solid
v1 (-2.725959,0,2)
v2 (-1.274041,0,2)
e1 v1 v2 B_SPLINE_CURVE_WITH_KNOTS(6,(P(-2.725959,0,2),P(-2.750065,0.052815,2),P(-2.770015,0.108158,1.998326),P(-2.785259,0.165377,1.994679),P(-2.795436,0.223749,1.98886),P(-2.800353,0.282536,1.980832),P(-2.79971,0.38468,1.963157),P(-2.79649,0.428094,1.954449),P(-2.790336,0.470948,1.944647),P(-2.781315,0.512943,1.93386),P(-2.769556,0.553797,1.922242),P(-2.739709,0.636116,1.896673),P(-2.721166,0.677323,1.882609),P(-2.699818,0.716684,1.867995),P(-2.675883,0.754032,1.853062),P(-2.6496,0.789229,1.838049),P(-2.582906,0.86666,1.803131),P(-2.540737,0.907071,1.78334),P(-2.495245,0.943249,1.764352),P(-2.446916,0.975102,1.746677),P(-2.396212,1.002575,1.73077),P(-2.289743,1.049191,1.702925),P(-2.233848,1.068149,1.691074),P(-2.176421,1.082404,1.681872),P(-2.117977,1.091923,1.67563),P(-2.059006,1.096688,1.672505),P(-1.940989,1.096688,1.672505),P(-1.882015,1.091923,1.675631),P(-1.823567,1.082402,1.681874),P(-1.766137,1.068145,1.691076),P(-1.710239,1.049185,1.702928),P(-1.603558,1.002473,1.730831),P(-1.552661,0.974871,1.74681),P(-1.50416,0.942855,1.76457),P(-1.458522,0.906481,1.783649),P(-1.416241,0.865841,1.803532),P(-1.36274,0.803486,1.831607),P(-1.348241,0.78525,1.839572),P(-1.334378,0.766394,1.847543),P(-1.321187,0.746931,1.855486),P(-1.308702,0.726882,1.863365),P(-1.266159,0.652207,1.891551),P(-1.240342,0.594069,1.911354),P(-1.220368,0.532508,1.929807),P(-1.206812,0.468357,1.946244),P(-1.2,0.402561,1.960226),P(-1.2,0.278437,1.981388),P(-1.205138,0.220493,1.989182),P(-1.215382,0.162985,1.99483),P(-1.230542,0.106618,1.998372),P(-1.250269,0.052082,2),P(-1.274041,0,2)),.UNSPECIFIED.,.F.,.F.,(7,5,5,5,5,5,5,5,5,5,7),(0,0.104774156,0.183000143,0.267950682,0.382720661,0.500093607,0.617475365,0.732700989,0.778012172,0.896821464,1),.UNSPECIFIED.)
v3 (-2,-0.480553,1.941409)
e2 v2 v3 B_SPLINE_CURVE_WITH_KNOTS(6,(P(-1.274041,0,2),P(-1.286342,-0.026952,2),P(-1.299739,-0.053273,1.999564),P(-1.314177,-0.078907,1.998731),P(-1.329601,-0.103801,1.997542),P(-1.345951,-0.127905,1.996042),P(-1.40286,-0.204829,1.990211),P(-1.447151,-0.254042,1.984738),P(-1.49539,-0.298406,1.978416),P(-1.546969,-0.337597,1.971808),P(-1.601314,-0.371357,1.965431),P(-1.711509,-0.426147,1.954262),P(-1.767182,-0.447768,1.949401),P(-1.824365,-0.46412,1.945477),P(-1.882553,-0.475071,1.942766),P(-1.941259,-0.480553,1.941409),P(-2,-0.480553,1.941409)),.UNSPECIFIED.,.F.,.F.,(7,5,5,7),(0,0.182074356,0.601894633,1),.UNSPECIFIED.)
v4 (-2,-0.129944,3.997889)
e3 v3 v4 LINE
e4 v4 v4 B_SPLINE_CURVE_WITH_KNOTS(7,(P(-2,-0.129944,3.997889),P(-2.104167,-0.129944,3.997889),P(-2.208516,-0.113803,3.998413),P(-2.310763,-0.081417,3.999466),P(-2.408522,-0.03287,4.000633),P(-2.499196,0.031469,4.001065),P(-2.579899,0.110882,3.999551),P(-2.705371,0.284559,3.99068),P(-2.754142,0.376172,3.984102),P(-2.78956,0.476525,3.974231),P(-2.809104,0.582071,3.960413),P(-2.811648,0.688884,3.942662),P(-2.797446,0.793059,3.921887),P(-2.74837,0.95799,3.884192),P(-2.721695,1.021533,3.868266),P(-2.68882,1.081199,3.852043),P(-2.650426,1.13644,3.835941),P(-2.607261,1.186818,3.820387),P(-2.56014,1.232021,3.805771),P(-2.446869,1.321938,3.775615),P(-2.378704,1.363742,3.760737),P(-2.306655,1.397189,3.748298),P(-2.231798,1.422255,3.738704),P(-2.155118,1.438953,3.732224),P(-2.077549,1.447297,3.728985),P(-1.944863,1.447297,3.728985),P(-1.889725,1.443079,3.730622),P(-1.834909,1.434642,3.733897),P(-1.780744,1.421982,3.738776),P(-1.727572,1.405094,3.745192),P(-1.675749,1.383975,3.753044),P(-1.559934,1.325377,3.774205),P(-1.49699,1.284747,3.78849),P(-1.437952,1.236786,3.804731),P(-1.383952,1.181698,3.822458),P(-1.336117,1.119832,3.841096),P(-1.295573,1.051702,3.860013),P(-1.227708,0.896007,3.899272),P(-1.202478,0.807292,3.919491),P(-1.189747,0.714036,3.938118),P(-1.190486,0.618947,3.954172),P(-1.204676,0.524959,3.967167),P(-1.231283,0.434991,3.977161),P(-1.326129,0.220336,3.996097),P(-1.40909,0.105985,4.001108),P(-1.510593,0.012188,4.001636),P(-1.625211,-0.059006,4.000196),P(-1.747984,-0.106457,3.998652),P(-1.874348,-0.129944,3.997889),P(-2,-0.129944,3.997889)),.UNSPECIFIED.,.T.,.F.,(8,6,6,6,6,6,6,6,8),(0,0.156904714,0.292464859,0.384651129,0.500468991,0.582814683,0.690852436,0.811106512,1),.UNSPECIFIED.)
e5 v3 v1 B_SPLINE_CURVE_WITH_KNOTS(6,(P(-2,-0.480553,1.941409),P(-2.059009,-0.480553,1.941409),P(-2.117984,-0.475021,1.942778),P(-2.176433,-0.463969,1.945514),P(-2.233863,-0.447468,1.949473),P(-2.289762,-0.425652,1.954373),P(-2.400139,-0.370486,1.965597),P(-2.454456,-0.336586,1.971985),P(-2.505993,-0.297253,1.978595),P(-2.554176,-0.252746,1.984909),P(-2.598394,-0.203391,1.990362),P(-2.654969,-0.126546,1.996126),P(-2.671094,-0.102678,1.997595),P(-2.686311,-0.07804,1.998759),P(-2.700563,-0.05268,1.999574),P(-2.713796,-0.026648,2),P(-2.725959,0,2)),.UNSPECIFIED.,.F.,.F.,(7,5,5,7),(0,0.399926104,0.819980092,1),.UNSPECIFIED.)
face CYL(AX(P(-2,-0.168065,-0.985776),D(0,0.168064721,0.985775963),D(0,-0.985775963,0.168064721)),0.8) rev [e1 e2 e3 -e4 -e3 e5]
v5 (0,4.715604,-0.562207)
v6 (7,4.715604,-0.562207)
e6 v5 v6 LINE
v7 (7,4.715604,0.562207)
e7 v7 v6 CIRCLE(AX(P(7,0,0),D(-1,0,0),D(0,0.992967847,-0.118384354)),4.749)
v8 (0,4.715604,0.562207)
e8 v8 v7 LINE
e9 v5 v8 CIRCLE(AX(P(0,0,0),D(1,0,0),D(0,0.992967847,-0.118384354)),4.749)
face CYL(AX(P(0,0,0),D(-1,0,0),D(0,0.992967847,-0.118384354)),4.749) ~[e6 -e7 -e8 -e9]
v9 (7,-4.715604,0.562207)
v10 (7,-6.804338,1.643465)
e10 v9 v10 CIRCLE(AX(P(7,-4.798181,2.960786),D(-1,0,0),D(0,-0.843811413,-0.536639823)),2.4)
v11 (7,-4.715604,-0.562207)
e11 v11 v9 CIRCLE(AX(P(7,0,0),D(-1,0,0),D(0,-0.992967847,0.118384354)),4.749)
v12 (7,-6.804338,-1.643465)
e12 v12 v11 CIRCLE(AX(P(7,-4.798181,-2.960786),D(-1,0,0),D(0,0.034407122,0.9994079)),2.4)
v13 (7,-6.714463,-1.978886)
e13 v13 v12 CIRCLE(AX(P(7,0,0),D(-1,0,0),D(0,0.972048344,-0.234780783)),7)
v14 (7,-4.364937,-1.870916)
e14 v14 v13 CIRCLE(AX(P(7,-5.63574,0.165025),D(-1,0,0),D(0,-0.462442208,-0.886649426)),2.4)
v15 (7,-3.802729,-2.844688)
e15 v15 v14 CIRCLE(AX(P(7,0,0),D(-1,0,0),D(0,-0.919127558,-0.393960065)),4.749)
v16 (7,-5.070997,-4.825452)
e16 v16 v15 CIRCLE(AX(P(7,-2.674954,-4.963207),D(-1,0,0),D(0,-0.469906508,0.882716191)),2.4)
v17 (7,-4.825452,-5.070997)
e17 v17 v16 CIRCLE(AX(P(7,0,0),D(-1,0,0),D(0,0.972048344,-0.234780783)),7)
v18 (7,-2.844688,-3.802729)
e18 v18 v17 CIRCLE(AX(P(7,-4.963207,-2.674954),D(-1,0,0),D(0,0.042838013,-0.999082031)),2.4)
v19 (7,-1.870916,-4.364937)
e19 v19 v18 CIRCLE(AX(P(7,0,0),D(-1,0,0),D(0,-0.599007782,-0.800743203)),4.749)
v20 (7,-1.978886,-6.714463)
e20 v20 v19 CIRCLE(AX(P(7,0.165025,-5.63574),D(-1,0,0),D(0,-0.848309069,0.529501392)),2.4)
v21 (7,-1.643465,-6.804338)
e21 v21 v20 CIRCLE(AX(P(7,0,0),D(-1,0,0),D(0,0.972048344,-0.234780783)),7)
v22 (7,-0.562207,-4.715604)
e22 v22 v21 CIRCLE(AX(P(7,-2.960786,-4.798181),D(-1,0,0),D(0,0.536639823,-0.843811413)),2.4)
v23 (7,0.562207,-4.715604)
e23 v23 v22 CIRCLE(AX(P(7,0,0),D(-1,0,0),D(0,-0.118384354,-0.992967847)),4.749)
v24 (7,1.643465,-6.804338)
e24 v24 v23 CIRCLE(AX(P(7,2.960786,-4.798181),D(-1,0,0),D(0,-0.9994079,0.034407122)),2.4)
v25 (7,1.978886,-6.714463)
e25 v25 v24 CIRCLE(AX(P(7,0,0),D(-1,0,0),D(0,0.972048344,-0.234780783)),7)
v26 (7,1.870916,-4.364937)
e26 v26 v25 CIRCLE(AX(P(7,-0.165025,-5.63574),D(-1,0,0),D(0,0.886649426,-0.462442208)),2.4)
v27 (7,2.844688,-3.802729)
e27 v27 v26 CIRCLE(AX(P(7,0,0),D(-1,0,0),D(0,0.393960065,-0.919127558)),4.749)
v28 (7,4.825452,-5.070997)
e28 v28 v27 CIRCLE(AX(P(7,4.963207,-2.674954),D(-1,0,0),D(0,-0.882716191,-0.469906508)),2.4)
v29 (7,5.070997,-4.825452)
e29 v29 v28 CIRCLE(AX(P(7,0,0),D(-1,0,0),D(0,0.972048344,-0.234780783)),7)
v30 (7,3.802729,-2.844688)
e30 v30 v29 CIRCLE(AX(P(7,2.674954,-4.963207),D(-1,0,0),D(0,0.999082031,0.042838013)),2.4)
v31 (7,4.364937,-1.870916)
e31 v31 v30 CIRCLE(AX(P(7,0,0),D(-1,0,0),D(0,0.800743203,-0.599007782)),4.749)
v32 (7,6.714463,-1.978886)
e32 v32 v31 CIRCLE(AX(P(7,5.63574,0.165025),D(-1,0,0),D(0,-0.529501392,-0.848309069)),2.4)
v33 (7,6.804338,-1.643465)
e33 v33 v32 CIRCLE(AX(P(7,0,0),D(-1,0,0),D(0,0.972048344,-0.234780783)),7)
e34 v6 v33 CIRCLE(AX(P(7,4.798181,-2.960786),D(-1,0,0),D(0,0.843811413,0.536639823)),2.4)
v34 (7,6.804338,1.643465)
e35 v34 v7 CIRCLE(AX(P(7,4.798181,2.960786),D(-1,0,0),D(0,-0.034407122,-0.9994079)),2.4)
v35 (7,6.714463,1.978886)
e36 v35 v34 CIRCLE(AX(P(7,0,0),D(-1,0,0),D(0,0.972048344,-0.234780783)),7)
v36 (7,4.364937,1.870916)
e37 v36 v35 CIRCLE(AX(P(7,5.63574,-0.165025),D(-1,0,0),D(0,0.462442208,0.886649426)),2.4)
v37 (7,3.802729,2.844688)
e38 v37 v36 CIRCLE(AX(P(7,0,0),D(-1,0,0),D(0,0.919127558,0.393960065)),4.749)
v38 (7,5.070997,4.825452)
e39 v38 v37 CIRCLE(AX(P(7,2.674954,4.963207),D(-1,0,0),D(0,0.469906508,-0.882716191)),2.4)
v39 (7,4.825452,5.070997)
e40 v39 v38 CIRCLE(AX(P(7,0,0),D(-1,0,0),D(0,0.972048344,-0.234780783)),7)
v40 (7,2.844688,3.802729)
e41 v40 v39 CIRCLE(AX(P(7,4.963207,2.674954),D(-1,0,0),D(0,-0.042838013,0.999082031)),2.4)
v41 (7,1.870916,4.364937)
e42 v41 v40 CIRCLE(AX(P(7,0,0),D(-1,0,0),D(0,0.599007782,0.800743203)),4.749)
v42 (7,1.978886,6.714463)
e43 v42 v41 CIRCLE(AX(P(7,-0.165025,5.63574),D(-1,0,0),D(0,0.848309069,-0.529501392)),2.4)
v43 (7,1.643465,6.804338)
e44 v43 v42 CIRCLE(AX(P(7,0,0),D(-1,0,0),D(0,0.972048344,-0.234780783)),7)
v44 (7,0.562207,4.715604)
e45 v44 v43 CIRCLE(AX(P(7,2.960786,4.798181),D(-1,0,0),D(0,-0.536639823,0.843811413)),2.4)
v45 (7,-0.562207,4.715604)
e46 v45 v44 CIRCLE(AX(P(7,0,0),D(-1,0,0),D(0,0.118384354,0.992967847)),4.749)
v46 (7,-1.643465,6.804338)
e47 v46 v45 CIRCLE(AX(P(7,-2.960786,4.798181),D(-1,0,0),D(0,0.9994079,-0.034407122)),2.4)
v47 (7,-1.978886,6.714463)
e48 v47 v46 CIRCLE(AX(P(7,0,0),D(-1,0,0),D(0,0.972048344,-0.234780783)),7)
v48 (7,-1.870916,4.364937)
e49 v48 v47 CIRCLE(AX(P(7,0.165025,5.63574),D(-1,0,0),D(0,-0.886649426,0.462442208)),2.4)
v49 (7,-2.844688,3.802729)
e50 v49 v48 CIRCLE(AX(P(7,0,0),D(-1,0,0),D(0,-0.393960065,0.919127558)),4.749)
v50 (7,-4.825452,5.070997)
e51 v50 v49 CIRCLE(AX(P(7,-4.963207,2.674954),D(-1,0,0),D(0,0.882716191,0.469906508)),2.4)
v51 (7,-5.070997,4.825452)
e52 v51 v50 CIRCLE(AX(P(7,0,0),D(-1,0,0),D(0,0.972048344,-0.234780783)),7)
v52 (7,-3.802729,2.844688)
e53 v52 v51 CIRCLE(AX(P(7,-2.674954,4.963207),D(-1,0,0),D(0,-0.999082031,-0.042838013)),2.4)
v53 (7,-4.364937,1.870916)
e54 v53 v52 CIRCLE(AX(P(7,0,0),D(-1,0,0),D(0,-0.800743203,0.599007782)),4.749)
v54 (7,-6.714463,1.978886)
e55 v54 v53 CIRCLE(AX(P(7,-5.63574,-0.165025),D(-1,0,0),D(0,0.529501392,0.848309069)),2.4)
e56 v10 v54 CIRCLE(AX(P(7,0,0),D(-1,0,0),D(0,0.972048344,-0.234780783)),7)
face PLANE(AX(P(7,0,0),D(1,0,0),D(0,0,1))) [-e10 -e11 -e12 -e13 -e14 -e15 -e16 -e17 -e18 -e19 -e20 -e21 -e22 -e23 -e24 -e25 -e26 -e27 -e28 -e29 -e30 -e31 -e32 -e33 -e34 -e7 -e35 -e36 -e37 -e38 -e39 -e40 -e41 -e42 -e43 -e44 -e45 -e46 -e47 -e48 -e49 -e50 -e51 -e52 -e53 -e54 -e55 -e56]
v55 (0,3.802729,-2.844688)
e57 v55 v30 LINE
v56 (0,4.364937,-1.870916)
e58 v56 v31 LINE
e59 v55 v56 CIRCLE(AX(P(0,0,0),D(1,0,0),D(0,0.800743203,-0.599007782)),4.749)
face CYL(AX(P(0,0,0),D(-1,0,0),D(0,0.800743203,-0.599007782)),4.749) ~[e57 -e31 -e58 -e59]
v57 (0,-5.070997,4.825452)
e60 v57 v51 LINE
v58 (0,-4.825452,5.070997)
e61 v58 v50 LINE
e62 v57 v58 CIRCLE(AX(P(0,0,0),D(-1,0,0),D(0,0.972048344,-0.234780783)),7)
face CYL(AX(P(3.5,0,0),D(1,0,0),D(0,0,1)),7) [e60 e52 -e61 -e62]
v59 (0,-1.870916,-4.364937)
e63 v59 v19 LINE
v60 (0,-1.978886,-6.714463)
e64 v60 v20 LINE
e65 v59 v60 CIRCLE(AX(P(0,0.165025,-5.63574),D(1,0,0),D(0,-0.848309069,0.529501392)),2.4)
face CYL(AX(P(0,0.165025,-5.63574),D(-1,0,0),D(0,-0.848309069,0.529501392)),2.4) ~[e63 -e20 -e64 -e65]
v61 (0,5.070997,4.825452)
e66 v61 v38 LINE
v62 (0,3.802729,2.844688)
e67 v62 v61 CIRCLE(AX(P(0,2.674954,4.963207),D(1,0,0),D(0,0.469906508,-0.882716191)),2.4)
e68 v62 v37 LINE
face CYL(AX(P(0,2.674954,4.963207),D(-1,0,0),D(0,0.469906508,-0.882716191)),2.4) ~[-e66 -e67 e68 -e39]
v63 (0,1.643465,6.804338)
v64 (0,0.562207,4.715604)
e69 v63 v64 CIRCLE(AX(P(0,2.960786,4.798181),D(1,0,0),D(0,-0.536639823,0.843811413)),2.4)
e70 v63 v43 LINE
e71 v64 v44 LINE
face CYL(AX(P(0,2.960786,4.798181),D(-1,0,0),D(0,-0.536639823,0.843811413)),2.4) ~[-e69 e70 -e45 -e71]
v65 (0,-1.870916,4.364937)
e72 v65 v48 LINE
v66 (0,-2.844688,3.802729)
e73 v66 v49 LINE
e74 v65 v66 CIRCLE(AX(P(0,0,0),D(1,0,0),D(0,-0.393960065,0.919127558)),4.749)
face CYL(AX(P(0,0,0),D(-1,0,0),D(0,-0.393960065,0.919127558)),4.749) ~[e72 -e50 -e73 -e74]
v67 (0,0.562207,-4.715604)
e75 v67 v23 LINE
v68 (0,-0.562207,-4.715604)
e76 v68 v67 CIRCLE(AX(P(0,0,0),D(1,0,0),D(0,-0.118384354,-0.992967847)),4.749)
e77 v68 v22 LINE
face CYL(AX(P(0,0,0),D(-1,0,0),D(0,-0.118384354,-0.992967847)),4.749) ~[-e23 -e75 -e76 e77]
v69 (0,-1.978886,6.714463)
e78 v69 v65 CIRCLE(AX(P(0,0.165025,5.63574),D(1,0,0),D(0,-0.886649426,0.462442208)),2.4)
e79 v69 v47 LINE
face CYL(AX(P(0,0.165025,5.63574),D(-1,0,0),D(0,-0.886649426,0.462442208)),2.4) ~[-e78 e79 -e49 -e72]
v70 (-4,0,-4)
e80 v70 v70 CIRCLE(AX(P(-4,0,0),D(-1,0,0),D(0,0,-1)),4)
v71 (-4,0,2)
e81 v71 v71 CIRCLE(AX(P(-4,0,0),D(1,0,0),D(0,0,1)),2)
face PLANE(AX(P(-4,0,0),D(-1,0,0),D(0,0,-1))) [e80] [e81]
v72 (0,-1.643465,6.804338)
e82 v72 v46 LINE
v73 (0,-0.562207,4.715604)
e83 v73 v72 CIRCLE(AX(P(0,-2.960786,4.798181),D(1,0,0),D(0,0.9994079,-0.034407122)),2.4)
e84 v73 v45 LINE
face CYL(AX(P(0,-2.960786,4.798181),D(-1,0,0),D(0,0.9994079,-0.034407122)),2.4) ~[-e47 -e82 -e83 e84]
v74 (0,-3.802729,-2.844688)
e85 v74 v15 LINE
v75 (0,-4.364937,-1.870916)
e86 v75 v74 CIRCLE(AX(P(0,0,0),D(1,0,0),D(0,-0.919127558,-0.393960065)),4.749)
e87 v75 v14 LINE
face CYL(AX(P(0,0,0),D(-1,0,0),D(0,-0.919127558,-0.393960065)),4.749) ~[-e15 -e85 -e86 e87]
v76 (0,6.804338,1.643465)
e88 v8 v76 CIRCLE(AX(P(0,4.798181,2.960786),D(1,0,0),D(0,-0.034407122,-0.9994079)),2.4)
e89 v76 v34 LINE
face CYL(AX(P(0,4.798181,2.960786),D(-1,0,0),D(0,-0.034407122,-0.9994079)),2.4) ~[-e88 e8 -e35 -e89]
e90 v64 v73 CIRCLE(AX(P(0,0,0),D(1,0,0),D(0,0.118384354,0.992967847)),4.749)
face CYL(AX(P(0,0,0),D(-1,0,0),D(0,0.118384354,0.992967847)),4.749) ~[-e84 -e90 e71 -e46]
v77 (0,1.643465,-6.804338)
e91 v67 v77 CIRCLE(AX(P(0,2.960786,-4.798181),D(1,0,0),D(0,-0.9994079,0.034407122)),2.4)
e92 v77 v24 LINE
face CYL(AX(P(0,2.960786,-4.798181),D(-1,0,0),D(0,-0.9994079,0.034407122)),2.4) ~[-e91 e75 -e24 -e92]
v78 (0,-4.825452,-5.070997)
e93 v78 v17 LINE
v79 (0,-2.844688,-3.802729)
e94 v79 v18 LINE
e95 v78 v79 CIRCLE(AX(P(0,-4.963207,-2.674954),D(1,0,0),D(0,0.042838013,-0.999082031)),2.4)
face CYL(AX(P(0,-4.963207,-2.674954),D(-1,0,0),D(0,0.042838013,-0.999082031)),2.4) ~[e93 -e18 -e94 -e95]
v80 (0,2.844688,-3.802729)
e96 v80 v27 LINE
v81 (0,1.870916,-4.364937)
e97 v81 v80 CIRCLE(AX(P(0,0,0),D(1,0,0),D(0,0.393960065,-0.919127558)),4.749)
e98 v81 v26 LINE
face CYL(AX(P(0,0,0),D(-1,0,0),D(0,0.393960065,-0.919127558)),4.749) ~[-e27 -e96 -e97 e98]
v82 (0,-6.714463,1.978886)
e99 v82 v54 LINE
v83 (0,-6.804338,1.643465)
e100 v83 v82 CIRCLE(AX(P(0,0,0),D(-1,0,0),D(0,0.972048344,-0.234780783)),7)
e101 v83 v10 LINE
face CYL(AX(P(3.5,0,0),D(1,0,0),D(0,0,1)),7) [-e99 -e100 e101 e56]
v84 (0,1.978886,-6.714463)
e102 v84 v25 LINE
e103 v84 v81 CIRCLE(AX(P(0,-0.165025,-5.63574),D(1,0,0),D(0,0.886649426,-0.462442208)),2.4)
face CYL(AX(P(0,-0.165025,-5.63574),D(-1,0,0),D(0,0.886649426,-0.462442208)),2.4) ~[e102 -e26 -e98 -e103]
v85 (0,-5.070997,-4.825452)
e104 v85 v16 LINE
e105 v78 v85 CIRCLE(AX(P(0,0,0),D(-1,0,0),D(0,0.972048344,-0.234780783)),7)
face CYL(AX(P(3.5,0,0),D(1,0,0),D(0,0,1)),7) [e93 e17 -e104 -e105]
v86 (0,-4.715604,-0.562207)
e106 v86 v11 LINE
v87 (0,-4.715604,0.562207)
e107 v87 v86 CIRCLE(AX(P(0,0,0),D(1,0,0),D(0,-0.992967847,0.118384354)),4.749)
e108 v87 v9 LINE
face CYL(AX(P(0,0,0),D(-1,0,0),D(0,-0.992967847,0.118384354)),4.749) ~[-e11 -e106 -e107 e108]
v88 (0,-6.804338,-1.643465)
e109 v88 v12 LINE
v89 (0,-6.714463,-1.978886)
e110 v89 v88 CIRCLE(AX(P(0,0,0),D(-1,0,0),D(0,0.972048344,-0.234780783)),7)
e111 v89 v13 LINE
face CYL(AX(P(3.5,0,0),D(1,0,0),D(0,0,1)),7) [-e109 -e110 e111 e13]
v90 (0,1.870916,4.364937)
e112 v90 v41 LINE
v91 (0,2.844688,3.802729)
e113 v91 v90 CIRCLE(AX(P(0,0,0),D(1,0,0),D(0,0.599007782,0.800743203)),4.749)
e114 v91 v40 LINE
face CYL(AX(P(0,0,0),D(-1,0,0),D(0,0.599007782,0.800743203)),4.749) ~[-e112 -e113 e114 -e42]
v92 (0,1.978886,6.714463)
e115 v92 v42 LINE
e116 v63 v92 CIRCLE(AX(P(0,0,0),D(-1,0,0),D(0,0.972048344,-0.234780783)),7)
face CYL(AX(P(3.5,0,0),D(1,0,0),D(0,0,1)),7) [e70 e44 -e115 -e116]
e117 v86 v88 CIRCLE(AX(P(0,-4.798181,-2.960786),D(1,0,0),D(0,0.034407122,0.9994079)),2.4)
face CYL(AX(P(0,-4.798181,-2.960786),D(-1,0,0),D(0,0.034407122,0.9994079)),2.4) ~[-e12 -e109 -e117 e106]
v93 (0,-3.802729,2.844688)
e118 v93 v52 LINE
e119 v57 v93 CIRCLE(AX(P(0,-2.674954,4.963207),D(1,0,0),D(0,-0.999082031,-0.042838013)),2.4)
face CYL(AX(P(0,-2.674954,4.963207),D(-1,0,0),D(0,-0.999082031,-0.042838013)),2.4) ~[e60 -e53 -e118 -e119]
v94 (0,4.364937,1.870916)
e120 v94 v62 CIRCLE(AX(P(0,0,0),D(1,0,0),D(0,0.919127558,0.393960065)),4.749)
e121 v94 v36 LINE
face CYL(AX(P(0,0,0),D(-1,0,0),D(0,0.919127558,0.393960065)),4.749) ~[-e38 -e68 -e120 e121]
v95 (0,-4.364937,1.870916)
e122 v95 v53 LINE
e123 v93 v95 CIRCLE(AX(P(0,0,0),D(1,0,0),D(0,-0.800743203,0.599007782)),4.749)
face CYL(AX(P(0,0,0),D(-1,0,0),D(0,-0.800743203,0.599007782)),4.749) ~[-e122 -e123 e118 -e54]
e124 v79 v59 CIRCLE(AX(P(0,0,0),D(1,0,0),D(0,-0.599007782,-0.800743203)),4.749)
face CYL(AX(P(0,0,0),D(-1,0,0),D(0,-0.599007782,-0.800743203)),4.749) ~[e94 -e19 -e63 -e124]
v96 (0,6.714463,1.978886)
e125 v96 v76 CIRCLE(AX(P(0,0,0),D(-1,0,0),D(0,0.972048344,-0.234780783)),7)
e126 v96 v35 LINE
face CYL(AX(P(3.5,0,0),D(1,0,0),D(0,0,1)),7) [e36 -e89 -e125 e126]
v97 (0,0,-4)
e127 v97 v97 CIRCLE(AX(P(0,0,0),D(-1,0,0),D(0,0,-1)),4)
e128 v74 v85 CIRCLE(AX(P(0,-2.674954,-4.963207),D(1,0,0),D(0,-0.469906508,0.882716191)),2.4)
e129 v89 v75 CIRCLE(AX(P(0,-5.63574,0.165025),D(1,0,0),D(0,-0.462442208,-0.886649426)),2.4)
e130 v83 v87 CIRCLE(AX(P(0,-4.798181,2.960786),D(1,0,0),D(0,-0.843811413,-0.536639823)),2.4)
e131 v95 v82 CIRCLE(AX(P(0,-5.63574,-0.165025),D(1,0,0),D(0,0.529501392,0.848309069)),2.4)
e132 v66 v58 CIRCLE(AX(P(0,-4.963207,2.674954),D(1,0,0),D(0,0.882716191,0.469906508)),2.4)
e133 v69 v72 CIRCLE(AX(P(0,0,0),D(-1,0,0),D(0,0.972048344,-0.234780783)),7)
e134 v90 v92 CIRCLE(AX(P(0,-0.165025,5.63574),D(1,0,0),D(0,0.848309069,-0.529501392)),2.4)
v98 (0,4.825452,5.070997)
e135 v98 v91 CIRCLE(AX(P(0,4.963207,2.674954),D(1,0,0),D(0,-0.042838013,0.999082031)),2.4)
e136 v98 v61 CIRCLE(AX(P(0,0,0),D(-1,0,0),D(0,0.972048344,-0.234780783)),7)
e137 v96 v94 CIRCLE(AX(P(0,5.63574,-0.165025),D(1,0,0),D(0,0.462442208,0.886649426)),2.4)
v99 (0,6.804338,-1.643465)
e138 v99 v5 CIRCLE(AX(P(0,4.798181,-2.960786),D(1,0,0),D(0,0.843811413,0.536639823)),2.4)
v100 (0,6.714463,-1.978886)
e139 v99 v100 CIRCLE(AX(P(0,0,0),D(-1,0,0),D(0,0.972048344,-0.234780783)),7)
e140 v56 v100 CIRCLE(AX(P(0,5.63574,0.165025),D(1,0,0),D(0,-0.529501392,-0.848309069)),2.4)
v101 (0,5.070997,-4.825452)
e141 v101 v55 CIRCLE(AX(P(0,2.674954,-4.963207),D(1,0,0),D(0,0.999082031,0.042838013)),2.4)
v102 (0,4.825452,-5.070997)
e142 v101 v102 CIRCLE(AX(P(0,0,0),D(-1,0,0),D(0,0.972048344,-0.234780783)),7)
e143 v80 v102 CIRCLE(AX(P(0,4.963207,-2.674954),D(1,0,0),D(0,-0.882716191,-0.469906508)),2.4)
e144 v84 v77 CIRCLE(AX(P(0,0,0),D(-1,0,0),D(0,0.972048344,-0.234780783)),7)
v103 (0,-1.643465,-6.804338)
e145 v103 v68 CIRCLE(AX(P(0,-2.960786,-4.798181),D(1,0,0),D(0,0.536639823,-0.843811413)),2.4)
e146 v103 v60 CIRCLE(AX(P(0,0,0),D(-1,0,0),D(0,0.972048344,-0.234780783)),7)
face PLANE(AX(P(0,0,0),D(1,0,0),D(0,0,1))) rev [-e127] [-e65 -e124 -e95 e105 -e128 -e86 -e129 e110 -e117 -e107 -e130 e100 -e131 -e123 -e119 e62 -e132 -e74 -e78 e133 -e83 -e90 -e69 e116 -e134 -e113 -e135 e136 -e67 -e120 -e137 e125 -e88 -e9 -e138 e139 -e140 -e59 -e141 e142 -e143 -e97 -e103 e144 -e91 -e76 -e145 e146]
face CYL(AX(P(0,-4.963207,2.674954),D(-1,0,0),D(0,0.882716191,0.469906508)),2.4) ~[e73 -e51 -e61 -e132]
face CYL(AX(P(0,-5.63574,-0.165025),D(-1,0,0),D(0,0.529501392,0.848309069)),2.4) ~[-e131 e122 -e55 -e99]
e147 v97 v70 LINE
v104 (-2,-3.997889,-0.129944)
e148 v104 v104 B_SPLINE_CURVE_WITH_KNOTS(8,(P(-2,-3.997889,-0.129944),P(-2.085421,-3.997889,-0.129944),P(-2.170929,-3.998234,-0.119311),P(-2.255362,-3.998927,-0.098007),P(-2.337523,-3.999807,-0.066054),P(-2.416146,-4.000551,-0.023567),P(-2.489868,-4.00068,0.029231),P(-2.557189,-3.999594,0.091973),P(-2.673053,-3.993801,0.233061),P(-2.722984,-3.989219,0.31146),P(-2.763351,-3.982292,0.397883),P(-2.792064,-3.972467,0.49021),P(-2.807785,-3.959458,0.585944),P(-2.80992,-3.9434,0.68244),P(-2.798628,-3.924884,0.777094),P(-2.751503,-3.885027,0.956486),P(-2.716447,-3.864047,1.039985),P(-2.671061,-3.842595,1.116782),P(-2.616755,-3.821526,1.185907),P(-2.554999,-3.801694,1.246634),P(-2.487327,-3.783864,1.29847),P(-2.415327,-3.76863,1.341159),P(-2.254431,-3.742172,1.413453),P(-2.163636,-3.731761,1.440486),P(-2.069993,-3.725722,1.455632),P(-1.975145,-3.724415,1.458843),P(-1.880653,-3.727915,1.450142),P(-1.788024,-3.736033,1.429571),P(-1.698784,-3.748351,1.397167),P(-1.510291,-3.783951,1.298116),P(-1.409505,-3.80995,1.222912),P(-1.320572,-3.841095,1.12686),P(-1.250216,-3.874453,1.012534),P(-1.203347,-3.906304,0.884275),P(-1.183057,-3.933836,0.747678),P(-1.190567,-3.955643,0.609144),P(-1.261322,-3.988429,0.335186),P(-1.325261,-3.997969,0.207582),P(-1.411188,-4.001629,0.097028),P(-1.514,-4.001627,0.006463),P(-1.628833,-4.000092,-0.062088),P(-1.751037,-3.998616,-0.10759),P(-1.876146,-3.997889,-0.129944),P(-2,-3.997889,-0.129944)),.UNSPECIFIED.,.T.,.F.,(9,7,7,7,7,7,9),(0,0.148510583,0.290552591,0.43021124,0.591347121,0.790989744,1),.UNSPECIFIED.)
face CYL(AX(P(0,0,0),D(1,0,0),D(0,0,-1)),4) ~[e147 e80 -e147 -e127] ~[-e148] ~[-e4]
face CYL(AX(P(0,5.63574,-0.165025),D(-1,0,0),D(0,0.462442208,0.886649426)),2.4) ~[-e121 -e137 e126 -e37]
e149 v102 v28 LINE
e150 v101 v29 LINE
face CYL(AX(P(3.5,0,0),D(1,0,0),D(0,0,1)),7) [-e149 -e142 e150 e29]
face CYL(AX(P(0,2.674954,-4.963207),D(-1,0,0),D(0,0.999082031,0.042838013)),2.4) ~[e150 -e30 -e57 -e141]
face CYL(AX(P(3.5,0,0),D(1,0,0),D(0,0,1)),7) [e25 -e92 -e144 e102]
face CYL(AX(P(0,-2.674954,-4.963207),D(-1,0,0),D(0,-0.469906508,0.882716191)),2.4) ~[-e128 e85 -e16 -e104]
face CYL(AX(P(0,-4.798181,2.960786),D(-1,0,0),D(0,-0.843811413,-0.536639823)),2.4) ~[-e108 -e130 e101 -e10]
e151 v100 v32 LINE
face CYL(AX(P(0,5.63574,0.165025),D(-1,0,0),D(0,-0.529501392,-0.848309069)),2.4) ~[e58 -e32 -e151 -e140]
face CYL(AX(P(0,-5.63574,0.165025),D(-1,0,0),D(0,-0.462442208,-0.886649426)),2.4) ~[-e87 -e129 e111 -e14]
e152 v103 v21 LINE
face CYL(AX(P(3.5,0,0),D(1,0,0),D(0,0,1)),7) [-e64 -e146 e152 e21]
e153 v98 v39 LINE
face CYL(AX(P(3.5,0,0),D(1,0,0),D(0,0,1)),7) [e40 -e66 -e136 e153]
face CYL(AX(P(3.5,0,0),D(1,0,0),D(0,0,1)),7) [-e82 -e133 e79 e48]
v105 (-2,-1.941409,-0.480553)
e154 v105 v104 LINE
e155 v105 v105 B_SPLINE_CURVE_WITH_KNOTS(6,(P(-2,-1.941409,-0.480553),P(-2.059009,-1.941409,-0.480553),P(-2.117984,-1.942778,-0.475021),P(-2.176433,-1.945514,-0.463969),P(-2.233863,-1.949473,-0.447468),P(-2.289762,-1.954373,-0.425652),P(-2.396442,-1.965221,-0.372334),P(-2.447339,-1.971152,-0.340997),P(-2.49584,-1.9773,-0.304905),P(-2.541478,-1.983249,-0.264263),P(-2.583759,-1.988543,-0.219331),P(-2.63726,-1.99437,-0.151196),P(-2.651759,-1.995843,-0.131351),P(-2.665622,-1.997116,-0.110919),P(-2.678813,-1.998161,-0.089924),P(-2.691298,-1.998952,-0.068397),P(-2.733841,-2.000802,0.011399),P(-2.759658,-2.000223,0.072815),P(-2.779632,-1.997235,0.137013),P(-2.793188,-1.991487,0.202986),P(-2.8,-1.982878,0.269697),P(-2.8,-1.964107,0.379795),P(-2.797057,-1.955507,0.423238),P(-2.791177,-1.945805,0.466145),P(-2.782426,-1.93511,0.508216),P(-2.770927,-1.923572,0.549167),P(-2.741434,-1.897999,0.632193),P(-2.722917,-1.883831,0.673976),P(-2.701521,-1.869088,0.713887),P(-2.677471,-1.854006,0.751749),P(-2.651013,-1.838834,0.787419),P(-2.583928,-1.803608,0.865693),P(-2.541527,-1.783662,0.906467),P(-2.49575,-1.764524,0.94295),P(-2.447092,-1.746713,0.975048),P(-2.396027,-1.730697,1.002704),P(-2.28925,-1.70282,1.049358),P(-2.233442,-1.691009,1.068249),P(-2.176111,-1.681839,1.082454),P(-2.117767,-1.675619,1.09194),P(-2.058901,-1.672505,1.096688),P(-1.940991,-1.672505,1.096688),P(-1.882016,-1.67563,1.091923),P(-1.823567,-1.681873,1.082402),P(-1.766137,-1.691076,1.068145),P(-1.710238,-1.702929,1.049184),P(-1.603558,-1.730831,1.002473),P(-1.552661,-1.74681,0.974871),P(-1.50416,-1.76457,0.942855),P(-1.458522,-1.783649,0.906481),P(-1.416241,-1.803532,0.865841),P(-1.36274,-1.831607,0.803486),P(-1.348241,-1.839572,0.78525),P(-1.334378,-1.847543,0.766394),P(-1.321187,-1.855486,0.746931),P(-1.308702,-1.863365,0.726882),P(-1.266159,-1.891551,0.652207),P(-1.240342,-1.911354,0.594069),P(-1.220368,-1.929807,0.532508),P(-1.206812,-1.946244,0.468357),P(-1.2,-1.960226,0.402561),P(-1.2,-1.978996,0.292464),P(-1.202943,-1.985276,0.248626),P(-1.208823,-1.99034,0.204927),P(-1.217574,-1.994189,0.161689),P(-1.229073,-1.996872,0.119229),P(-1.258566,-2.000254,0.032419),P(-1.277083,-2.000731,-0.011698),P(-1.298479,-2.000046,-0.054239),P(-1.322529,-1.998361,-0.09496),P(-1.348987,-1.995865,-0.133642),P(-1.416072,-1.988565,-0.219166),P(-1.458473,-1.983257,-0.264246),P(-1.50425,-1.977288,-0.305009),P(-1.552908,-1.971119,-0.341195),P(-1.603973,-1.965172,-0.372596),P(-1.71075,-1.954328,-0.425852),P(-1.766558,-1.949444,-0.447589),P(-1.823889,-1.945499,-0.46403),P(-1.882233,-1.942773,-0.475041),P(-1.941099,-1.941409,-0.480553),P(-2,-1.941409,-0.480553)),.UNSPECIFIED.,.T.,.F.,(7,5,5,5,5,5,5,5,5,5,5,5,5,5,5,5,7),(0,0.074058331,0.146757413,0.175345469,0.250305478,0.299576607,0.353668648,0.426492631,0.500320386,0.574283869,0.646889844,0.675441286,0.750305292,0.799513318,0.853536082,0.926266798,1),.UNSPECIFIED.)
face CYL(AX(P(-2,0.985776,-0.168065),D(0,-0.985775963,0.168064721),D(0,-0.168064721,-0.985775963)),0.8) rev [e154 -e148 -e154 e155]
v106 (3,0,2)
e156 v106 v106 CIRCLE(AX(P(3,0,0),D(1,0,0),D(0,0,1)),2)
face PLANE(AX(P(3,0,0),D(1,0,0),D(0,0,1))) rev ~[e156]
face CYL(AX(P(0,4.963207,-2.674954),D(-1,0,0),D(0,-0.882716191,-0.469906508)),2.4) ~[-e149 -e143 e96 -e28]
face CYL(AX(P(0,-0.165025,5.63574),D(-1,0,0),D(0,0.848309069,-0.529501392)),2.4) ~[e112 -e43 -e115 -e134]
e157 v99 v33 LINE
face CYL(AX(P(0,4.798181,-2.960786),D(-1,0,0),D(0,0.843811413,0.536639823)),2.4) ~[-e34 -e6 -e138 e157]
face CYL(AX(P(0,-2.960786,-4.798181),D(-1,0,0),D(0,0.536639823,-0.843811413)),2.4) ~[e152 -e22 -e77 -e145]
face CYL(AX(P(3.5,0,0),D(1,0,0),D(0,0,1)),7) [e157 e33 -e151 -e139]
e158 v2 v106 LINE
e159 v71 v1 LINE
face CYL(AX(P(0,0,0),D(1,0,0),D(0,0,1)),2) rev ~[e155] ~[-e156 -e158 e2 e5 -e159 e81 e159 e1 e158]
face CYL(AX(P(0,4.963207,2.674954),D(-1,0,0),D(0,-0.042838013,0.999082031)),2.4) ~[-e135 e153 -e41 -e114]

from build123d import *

# Parameters (mm, degrees)
BASPROSKE_W                  = 7
BASPROSKE_H                  = 7
TOOTHCUT_DEPTH               = 13.124355653
TEETHCUTS_COUNT              = 12
TEETHCUTS_ANGLE              = 330
HUBNEAONESKE_R               = 4
HUBNEARONE_DEPTH             = 4
BORSKE_R                     = 2
BORE_DEPTH                   = 12.0000508
ESQUISSE1_R                  = 2
BOSS_EXTRU_1_DEPTH           = 4
R_P_TITION_CIRCULAIRE1_COUNT = 2
R_P_TITION_CIRCULAIRE1_ANGLE = 90


with BuildPart() as part:
    # BasProSke → Base-Revolve (revolve)
    with BuildSketch(Plane(origin=(0, 0, 0), x_dir=(1, 0, 0), z_dir=(0, 1, 0)), mode=Mode.PRIVATE) as base_revolve_sk:
        with Locations((3.5, 3.5)):
            Rectangle(BASPROSKE_W, BASPROSKE_H)
    revolve(base_revolve_sk.sketch.rotate(Axis((-10, 0, 0), (1, 0, 0)), 180), axis=Axis((-10, 0, 0), (1, 0, 0)))

    # TooCutSke → ToothCut (cut, through all)
    with BuildSketch(Plane(origin=(0, 0, 0), x_dir=(0, 0, -1), z_dir=(1, 0, 0))):
        with BuildLine():
            ThreePointArc((0.562207301, 4.715604304), (0, 4.749), (-0.562207301, 4.715604304))
            ThreePointArc((-0.562207301, 4.715604304), (-0.837528627, 5.917009812), (-1.672850686, 6.823328788))
            ThreePointArc((-1.672850686, 6.823328788), (0, 7.0254), (1.672850686, 6.823328788))
            ThreePointArc((1.672850686, 6.823328788), (0.837528627, 5.917009812), (0.562207301, 4.715604304))
        make_face()
    toothcut = extrude(amount=TOOTHCUT_DEPTH, mode=Mode.SUBTRACT)

    # TeethCuts: ToothCut ×12 about axis
    teethcuts_axis = Axis((-10, 0, 0), (1, 0, 0))
    for i in range(1, TEETHCUTS_COUNT):
        add(toothcut.rotate(teethcuts_axis, i * TEETHCUTS_ANGLE / (TEETHCUTS_COUNT - 1)), mode=Mode.SUBTRACT)

    # HubNeaOneSke → HubNearOne (add)
    with BuildSketch(Plane.ZY):
        with Locations(Location((0, 0, 0), (0, 0, 180))):
            Circle(HUBNEAONESKE_R)
    extrude(amount=HUBNEARONE_DEPTH)

    # BorSke → Bore (cut, symmetric)
    with BuildSketch(Plane(origin=(0, 0, 0), x_dir=(0, 0, -1), z_dir=(1, 0, 0))):
        with Locations(Location((0, 0, 0), (0, 0, 180))):
            Circle(BORSKE_R)
    extrude(amount=BORE_DEPTH, both=True, mode=Mode.SUBTRACT)

    # Esquisse1 → Boss.-Extru.1 (add)
    with BuildSketch(Plane(origin=(7, 0, 0), x_dir=(0, 0, -1), z_dir=(1, 0, 0))):
        with Locations(Location((0, 0, 0), (0, 0, 180))):
            Circle(ESQUISSE1_R)
    extrude(amount=-BOSS_EXTRU_1_DEPTH)

    # Esquisse5 → Trou pour taraudage pour trou taraudé M2x0.41 (revolve, cut)
    with BuildSketch(Plane(origin=(-2, -3.943103852, 0.672258885), x_dir=(0, -0.1680647213420592, -0.9857759631073463), z_dir=(1, 0, 0))):
        Polygon((0, 0), (0, 5.480688495), (0.8, 5), (0.8, 0), align=None)
    trou_pour_taraudage_pour_trou_taraud_m2 = revolve(axis=Axis((-2, -10.202781218, 1.739469866), (0, 0.9857759631073462, -0.1680647213420592)), mode=Mode.SUBTRACT)

    # Répétition circulaire1: Trou pour taraudage pour trou taraudé M2x0.41 ×2 about axis
    r_p_tition_circulaire1_axis = Axis((12.0000508, 0, 0), (-1, 0, 0))
    for i in range(1, R_P_TITION_CIRCULAIRE1_COUNT):
        add(trou_pour_taraudage_pour_trou_taraud_m2.rotate(r_p_tition_circulaire1_axis, i * R_P_TITION_CIRCULAIRE1_ANGLE / (R_P_TITION_CIRCULAIRE1_COUNT - 1)), mode=Mode.SUBTRACT)


solid = part.part
